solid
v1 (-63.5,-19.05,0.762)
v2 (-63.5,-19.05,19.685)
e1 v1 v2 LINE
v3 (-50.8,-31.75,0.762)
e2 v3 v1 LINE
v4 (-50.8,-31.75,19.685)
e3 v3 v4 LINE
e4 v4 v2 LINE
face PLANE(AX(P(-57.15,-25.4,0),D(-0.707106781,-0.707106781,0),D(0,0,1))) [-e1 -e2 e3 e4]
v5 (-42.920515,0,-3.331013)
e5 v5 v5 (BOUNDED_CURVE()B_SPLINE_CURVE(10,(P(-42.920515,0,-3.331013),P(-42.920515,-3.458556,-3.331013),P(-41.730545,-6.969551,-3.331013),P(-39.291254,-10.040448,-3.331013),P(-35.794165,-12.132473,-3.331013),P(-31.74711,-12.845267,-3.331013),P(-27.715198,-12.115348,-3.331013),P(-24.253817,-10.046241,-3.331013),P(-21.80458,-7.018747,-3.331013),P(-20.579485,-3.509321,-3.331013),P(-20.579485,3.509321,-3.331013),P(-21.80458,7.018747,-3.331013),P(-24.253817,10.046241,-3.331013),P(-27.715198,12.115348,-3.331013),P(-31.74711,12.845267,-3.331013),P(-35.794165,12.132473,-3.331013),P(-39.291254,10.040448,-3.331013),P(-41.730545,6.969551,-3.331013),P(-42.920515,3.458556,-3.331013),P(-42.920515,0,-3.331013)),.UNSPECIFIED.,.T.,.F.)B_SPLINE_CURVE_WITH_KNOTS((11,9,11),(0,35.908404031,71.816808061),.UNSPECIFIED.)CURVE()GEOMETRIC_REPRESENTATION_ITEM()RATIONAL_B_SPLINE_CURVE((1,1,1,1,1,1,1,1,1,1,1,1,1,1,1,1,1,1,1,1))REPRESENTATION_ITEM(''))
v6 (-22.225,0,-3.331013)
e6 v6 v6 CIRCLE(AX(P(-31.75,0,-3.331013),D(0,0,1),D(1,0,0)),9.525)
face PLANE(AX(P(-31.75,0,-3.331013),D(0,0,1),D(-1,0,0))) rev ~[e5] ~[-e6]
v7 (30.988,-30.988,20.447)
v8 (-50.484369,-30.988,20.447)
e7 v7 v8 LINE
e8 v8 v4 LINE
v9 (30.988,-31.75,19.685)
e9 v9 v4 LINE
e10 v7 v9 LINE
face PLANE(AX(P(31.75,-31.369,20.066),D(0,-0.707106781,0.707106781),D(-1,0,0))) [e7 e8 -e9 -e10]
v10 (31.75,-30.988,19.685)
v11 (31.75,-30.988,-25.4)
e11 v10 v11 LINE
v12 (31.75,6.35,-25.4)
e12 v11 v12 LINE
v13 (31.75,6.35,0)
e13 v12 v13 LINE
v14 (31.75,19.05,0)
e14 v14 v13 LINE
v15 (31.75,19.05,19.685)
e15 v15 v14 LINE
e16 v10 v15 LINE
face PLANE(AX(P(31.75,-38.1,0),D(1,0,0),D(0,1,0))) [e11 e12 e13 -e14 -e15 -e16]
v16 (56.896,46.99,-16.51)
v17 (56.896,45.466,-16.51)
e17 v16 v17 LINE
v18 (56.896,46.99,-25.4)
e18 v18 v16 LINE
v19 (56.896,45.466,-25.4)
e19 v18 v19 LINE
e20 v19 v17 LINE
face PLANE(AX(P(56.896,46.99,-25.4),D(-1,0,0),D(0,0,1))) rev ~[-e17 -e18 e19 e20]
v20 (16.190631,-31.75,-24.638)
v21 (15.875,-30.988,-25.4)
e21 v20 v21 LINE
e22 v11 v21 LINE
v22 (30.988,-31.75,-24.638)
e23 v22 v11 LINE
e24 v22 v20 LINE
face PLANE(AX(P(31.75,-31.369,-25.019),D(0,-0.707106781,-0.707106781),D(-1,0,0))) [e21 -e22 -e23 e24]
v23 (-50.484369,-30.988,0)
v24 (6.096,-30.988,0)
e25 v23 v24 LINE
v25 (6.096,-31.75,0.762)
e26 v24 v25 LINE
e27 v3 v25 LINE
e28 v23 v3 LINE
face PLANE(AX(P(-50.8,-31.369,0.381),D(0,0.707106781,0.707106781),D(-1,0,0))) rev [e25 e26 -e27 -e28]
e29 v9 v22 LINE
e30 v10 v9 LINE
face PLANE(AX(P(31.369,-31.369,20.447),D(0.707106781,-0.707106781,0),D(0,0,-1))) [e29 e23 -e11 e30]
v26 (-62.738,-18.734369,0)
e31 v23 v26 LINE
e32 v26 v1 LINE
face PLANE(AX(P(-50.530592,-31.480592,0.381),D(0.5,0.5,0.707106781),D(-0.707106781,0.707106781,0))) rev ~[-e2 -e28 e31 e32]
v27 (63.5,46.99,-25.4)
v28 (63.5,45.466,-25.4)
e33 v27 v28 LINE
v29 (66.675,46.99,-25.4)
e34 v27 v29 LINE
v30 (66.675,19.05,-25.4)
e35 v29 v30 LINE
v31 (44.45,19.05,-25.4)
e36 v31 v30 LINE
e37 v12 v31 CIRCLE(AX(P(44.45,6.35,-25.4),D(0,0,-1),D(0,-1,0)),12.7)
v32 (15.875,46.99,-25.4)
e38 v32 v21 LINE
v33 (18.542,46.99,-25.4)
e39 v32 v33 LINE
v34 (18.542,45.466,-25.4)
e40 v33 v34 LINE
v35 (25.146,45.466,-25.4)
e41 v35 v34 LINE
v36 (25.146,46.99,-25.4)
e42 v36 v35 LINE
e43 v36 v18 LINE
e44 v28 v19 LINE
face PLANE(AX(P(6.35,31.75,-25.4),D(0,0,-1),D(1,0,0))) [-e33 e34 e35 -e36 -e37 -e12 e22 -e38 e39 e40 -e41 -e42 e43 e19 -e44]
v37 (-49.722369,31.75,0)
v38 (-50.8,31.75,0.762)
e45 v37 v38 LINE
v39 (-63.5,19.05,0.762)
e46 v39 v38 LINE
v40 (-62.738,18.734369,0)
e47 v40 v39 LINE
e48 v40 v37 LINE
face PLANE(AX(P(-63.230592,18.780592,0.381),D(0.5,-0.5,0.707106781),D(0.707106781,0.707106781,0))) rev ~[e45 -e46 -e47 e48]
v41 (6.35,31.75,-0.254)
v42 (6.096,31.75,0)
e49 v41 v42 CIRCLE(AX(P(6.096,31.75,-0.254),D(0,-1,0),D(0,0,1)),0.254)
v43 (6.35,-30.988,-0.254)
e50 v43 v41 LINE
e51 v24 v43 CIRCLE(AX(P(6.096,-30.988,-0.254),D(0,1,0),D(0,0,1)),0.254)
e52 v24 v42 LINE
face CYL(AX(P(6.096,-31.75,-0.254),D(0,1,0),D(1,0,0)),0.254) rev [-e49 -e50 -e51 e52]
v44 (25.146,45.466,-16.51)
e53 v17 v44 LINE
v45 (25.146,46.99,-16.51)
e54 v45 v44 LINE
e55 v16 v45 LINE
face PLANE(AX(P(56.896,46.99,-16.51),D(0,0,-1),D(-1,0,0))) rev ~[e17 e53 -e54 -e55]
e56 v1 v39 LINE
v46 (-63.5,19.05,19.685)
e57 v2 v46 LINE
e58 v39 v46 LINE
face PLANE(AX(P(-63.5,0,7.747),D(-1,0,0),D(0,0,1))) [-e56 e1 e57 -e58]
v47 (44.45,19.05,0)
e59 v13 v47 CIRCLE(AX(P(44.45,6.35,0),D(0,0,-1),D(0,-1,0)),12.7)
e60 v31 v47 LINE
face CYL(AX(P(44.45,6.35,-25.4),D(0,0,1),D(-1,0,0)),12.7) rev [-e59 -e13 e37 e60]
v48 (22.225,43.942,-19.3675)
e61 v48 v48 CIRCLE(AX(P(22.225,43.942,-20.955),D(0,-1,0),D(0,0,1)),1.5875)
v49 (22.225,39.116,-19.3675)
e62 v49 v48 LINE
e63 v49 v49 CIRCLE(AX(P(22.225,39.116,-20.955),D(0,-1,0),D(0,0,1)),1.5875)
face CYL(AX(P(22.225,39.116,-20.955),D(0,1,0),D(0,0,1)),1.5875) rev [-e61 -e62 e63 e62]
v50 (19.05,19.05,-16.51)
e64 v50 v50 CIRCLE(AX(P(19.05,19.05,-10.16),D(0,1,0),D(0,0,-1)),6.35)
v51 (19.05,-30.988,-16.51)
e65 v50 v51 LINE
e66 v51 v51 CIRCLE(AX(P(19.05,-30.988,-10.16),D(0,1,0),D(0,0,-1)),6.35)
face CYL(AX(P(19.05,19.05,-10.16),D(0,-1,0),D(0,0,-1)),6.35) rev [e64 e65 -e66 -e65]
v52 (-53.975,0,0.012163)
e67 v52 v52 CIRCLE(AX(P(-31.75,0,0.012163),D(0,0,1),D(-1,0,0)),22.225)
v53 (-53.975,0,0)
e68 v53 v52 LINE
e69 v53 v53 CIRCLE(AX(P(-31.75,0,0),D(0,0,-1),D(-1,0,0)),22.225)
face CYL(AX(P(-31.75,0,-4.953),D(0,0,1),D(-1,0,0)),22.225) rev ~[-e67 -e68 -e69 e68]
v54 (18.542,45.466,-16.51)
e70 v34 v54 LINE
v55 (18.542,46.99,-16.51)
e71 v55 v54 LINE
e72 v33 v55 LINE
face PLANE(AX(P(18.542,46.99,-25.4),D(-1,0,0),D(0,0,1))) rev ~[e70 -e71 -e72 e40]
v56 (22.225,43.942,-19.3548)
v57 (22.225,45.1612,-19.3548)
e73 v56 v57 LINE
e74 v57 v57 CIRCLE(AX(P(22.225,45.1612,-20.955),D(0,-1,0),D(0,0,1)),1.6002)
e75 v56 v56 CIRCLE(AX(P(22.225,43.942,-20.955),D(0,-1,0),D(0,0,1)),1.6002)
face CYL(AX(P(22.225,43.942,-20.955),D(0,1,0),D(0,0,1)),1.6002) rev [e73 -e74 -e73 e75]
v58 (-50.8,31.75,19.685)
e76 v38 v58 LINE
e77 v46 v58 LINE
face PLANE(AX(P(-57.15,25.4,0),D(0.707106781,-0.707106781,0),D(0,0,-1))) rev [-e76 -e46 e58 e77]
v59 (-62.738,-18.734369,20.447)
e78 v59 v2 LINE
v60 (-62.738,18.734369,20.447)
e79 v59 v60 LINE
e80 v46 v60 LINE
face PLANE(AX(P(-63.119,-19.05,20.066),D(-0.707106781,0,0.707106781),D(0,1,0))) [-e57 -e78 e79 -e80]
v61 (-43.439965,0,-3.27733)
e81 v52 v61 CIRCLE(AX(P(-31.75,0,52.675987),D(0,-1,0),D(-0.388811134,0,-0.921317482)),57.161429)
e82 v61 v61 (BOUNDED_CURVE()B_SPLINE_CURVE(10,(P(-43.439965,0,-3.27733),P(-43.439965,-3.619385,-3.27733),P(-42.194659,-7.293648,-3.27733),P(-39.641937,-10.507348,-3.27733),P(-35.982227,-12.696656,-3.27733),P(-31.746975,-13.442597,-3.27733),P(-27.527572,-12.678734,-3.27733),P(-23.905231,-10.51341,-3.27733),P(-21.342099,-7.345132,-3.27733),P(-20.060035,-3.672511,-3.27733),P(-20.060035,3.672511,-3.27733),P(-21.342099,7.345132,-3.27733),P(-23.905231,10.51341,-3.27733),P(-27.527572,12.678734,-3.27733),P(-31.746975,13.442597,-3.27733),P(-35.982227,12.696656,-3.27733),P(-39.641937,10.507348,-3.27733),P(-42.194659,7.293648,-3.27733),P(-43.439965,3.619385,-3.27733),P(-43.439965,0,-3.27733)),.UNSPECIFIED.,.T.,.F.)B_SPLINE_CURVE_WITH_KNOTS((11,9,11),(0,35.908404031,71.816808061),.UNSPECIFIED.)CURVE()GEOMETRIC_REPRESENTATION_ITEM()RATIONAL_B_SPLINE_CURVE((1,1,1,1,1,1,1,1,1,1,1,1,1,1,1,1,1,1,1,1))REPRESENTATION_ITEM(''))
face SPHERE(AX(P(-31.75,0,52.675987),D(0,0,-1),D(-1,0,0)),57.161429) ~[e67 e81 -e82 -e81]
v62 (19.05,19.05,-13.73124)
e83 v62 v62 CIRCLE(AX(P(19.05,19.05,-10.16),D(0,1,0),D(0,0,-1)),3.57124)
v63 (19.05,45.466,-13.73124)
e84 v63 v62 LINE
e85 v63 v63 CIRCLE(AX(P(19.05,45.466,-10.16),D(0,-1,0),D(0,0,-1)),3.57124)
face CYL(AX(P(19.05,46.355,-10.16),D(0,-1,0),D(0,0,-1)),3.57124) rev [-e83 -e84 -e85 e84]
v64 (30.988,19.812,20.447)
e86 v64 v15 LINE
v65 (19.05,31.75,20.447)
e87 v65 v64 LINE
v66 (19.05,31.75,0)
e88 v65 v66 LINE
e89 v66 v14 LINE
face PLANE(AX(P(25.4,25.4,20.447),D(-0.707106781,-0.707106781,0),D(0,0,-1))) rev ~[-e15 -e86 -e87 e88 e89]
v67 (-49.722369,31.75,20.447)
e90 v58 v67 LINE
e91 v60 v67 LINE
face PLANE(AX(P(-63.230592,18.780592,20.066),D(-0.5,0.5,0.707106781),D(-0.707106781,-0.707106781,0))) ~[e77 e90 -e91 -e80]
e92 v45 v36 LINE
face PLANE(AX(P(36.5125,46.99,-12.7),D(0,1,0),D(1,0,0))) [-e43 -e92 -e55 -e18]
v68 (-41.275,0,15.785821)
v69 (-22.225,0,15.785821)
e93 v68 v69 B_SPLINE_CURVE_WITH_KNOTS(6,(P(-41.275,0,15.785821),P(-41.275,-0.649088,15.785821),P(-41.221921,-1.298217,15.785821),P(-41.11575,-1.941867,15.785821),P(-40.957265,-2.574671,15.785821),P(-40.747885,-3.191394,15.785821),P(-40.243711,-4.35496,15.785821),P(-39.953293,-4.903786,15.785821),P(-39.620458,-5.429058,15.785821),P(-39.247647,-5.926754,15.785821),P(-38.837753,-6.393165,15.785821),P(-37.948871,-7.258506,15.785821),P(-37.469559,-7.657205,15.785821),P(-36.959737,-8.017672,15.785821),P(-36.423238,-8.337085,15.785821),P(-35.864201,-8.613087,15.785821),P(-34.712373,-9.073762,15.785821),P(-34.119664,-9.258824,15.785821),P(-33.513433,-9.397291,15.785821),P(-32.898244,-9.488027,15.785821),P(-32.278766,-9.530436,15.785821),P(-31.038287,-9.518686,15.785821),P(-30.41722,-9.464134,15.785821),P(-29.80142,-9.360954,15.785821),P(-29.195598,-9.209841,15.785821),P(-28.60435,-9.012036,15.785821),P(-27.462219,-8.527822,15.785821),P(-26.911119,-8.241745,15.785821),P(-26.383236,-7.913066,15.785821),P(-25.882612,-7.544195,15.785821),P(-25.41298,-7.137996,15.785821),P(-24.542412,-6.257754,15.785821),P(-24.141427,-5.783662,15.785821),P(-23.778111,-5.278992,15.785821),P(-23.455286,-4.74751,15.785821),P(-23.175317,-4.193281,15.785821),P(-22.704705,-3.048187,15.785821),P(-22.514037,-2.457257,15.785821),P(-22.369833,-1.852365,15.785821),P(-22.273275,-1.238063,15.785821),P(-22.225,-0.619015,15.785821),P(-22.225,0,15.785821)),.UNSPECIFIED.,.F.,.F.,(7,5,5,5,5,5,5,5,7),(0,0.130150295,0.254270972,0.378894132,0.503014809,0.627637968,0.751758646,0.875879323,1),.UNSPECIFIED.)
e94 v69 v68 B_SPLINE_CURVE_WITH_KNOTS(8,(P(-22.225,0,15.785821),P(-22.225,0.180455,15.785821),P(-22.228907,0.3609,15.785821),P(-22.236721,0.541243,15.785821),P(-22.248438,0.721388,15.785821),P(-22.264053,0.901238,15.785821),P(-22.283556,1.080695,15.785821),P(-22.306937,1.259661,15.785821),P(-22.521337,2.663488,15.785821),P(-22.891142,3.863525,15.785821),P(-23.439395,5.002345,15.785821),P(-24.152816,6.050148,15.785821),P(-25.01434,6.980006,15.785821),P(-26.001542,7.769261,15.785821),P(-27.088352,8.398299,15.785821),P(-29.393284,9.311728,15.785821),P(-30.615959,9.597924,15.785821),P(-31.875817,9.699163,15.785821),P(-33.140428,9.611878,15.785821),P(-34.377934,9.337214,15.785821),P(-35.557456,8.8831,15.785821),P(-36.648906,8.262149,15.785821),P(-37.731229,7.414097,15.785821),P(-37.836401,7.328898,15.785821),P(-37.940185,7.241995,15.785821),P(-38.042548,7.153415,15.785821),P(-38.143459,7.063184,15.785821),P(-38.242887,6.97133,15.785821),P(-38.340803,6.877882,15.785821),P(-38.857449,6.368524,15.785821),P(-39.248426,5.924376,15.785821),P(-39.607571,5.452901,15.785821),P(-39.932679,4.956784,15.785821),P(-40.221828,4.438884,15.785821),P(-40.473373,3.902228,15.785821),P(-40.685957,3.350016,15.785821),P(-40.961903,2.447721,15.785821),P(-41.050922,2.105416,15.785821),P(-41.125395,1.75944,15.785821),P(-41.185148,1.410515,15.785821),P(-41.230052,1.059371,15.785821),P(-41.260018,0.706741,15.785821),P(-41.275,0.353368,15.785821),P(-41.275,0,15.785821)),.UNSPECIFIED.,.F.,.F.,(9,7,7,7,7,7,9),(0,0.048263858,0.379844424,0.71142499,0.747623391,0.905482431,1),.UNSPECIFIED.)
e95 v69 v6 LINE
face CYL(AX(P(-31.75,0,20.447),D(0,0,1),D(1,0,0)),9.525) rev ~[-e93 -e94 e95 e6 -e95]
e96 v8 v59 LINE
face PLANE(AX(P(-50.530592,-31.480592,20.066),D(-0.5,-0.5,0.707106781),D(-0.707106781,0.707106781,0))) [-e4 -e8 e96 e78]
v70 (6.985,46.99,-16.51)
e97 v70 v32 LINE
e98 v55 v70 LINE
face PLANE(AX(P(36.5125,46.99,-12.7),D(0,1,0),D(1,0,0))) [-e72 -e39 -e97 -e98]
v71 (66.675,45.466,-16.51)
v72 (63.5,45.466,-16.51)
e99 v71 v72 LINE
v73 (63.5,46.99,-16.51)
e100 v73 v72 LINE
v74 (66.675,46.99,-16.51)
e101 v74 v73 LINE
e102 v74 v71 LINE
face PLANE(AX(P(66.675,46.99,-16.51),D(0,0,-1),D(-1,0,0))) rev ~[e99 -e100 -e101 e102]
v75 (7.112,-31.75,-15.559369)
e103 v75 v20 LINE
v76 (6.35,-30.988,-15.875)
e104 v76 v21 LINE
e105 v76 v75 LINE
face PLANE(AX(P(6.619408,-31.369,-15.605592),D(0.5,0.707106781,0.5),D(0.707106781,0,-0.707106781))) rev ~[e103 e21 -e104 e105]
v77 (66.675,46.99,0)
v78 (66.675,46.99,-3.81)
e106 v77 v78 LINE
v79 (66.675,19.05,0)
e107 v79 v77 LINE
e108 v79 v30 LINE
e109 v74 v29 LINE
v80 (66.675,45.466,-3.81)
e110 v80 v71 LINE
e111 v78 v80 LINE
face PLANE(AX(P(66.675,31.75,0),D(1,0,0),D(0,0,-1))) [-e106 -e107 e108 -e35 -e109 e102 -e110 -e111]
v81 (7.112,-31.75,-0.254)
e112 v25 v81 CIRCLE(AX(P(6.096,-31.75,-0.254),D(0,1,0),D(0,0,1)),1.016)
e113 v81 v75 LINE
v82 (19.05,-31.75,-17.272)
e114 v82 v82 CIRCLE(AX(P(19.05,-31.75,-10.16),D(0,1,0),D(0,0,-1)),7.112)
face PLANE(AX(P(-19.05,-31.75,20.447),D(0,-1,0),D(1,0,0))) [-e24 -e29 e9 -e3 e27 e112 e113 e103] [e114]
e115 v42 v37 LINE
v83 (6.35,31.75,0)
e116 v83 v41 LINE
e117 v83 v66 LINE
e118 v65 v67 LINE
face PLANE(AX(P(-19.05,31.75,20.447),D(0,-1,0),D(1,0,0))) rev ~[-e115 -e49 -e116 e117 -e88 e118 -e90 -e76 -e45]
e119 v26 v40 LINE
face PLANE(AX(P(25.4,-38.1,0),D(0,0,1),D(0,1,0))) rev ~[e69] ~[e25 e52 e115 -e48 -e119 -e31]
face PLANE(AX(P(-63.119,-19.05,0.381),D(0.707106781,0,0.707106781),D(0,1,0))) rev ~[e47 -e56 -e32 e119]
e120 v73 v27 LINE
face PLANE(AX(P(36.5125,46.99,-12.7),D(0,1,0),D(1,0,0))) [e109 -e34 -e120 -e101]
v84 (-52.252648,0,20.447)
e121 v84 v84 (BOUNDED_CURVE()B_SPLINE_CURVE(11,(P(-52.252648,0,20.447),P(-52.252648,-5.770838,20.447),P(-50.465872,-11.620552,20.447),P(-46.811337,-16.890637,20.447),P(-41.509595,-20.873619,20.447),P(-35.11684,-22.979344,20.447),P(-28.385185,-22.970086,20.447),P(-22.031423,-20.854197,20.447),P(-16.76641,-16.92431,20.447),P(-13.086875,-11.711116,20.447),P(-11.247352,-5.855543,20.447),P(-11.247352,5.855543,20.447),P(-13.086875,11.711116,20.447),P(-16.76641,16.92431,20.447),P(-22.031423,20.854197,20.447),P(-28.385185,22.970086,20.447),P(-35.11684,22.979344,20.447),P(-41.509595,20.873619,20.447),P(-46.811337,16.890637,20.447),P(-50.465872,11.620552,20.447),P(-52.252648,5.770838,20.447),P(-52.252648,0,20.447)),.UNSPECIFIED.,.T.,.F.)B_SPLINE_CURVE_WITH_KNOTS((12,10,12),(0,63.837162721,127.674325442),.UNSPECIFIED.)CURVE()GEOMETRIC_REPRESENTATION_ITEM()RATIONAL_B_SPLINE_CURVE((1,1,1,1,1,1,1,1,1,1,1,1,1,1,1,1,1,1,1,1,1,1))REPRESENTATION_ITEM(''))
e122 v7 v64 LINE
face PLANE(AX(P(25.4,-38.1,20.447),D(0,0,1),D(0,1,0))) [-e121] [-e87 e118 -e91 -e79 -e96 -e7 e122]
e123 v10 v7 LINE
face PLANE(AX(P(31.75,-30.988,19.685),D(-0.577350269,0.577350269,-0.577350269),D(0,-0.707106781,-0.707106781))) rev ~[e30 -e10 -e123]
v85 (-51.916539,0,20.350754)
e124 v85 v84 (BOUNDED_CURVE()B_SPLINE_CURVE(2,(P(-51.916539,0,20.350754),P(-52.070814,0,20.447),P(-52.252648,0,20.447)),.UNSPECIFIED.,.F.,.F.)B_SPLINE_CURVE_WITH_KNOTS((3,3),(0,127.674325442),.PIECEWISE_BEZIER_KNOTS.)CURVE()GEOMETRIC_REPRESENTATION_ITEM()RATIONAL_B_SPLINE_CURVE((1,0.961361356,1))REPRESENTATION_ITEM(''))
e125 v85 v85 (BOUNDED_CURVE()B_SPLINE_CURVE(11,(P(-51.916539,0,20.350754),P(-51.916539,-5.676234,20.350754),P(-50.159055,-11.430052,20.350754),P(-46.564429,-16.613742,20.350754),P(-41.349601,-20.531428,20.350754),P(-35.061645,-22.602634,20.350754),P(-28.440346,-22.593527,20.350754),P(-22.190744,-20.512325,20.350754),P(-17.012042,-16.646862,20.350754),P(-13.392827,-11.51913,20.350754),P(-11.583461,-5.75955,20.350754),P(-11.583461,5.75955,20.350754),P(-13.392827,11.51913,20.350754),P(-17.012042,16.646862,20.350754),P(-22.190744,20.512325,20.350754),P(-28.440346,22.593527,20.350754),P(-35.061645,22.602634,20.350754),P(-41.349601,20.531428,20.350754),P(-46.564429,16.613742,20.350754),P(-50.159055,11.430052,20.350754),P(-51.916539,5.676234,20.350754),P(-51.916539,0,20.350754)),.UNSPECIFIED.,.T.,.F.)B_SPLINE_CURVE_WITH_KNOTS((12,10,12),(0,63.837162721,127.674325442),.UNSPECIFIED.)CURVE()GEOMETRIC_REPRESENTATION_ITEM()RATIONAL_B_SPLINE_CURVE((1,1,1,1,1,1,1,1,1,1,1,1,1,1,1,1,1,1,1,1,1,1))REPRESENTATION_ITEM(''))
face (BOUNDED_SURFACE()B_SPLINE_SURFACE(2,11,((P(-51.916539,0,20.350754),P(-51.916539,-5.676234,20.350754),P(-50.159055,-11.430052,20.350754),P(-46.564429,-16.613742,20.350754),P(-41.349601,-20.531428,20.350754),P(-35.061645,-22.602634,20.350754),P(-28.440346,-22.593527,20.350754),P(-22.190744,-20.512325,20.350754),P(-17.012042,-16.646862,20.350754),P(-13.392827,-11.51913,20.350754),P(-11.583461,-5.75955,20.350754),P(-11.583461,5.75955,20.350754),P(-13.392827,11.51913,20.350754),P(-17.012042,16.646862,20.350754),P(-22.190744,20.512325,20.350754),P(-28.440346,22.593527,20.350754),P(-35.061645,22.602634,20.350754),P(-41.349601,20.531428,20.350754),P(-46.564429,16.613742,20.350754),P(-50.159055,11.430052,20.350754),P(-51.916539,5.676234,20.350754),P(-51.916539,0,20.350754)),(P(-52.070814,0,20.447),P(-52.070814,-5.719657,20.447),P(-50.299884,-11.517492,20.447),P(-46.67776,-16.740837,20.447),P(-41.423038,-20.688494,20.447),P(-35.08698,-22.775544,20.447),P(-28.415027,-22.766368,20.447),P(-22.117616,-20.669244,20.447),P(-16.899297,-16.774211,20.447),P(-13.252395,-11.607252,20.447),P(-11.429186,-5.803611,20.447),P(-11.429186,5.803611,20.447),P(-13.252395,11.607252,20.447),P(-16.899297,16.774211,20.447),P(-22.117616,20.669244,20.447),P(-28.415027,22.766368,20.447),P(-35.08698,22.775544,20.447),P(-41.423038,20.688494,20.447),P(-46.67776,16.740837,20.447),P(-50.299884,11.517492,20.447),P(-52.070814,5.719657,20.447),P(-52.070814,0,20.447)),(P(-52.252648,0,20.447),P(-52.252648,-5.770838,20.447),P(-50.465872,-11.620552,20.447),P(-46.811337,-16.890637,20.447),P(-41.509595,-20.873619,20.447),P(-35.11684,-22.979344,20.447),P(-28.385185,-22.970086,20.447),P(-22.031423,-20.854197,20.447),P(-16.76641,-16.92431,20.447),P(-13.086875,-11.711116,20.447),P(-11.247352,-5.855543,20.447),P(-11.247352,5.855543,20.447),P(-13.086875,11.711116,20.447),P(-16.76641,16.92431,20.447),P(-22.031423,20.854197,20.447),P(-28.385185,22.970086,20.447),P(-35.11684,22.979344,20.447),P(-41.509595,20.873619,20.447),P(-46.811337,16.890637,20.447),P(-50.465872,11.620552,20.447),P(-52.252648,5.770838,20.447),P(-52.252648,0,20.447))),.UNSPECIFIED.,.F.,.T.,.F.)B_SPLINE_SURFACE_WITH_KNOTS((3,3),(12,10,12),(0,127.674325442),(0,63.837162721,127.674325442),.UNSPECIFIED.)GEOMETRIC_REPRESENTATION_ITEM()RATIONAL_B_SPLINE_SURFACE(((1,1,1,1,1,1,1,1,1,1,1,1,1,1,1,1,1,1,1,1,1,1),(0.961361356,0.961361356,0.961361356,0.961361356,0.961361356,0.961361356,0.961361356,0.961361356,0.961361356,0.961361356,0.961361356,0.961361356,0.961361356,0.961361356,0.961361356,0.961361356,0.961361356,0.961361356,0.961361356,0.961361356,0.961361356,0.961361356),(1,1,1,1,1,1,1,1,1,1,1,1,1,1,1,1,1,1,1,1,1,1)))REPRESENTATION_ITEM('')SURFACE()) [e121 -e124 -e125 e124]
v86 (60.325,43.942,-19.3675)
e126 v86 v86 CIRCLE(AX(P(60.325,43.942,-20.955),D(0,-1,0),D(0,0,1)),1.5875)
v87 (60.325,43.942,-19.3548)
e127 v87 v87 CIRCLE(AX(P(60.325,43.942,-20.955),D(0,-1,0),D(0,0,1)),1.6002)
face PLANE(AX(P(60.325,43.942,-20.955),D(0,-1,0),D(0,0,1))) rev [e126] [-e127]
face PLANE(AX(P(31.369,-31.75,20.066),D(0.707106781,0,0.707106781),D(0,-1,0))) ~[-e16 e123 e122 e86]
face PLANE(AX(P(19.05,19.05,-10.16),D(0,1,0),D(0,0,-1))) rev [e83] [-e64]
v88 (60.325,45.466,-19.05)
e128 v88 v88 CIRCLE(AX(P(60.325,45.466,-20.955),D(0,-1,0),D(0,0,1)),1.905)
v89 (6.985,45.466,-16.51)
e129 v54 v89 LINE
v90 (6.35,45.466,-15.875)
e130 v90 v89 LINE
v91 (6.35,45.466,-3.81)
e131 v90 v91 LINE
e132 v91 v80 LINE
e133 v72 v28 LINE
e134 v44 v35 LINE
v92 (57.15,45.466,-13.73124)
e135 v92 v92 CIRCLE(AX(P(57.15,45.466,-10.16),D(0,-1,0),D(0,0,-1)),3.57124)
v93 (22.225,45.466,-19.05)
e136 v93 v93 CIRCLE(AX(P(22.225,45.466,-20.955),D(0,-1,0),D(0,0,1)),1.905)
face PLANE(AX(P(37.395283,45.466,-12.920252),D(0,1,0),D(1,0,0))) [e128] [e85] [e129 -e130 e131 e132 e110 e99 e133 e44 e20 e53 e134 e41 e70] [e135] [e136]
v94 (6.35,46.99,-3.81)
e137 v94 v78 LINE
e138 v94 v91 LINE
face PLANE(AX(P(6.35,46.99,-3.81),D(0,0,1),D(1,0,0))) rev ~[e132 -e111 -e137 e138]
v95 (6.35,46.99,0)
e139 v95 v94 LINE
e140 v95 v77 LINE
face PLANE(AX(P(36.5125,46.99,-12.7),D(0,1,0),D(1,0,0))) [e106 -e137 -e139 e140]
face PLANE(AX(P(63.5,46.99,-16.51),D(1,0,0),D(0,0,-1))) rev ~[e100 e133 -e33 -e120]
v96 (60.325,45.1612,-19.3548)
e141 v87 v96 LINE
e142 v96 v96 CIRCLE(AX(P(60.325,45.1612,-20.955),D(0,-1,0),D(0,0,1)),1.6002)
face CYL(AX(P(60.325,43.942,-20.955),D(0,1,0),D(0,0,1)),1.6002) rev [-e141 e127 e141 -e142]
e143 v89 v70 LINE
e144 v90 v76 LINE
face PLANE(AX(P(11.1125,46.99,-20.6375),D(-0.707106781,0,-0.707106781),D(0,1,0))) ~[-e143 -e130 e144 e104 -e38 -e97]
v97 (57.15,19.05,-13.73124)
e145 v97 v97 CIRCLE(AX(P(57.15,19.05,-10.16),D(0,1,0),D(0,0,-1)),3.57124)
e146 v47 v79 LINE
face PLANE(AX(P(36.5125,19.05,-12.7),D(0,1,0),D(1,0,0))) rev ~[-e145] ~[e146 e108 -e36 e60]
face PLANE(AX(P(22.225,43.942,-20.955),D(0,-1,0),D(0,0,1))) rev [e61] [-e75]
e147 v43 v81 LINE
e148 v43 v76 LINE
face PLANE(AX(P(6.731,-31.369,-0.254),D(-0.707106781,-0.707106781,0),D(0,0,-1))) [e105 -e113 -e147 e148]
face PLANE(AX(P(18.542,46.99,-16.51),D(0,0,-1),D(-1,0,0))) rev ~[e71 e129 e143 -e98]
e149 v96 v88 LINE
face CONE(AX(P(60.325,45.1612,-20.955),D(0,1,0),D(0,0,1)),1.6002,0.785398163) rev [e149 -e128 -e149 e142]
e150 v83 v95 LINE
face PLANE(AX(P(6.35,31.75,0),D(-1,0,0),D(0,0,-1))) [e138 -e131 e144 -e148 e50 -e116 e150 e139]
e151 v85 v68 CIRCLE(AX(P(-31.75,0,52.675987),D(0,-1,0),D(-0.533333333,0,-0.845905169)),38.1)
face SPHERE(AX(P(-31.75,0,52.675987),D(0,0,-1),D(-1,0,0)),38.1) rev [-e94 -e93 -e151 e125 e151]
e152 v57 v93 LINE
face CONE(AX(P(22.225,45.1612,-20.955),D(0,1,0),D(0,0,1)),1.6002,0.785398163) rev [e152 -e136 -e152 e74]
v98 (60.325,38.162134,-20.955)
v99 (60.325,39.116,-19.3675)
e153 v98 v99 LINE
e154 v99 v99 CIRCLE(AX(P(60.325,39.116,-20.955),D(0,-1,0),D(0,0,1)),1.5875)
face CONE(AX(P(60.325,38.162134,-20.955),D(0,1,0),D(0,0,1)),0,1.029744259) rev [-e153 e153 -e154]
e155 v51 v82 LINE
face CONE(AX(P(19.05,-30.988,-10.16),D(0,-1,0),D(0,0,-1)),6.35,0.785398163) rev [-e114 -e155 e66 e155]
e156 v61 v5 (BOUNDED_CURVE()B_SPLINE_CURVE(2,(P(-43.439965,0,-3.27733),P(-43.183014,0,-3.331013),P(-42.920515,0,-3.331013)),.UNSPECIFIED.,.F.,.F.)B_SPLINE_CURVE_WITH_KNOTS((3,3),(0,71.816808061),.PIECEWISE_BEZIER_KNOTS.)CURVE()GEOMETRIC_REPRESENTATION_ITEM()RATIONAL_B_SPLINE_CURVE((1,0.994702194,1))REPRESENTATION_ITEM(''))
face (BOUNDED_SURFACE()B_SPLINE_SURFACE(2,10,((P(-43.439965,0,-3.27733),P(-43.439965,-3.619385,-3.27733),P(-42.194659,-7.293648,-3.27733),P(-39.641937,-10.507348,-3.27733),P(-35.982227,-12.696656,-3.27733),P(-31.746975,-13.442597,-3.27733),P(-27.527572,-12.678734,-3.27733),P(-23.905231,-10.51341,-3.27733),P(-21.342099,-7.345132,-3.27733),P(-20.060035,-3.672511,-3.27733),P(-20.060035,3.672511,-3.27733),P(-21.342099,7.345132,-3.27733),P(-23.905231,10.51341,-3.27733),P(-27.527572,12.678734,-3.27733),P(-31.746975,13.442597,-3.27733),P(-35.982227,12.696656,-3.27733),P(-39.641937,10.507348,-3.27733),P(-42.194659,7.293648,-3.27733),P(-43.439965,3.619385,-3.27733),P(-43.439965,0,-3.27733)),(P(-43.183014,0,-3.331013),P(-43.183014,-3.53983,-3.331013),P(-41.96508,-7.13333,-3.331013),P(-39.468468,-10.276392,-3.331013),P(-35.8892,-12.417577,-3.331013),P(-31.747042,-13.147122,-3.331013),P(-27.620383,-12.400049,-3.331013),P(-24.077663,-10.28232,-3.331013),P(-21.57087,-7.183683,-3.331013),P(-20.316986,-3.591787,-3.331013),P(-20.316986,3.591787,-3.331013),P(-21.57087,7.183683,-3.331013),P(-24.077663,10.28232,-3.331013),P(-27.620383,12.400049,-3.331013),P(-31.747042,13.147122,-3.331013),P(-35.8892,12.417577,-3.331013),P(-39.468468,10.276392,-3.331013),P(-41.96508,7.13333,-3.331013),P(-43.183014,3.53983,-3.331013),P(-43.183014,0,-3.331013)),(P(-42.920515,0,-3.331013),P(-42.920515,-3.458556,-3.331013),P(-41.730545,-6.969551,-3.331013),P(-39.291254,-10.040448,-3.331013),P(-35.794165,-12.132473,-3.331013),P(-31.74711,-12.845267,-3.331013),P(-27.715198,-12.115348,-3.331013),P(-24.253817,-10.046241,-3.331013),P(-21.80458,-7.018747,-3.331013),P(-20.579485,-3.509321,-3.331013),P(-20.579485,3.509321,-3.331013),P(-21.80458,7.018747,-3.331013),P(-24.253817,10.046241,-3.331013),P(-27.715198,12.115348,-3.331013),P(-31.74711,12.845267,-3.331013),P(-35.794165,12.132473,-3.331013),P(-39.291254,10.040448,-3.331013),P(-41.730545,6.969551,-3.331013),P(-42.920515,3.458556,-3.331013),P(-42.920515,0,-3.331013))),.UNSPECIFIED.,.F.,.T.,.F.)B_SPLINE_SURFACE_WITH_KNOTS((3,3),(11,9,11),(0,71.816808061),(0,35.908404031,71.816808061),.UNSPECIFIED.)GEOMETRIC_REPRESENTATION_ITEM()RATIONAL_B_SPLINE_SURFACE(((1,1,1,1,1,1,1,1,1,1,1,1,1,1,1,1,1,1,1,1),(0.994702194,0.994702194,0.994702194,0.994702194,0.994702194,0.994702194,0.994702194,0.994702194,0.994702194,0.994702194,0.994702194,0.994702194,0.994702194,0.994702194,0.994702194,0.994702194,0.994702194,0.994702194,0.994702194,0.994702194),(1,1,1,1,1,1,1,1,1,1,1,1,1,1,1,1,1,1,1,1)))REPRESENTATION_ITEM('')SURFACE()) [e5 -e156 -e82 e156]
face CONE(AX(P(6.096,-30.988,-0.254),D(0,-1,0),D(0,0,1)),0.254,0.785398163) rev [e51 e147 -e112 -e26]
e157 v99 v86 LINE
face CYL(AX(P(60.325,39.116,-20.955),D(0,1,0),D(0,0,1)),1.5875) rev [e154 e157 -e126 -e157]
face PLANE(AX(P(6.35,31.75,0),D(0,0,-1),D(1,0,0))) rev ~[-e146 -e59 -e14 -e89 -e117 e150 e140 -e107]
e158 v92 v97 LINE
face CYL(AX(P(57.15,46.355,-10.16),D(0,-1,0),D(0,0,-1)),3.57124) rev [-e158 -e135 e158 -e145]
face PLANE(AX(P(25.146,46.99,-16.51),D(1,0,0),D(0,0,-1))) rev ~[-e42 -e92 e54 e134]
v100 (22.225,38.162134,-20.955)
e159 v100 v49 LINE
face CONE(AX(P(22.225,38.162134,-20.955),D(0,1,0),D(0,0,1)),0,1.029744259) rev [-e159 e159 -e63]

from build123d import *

# Parameters (mm, degrees)
SKETCH1_W                          = 25.4
SKETCH1_H                          = 76.2
EXTRUDE1_DEPTH                     = 20.447
SKETCH60_W                         = 25.4
SKETCH60_H                         = 63.5
EXTRUDE6_DEPTH                     = 63.5
SKETCH69_W                         = 63.5
SKETCH69_H                         = 63.5
SKETCH69_R                         = 22.225
CUT_EXTRUDE23_DEPTH                = 4.953
SKETCH71_R                         = 9.525
CUT_EXTRUDE24_DEPTH                = 24.778013047
SKETCH80_W                         = 20.447
SKETCH80_H                         = 76.2
EXTRUDE11_DEPTH                    = 6.35
SKETCH76_W                         = 25.4
SKETCH76_H                         = 76.2
EXTRUDE9_DEPTH                     = 25.4
SKETCH79_W                         = 50.8
SKETCH79_H                         = 6.35
EXTRUDE10_DEPTH                    = 46.847
SKETCH84_W                         = 60.325
SKETCH84_H                         = 25.4
EXTRUDE14_DEPTH                    = 15.24
EXTRUDE14_DEPTH_BACK               = 12.7
EXTRUDE15_DEPTH                    = 1.524
CBORE_FOR_1_8_PRESS_PIN_AT_2_COUNT = 2
CBORE_FOR_1_8_PRESS_PIN_AT_2_PITCH = 38.1
CHAMFER5_SIZE                      = 9.525
FILLET6_R                          = 12.7
CHAMFER3_SIZE                      = 12.7
FILLET7_R                          = 0.254
CHAMFER4_SIZE                      = 0.762
FILLET4_R                          = 2.54
FILLET5_R                          = 0.635


with BuildPart() as part:
    # Sketch1 → Extrude1 (new body)
    with BuildSketch(Plane.XY):
        with Locations((12.7, 0)):
            Rectangle(SKETCH1_W, SKETCH1_H)
    extrude(amount=EXTRUDE1_DEPTH)

    # Sketch60 → Extrude6 (add)
    with BuildSketch(Plane.ZY):
        with Locations((7.747, 0)):
            Rectangle(SKETCH60_W, SKETCH60_H)
    extrude(amount=EXTRUDE6_DEPTH)

    # Sketch64 → Cut-Revolve1 (revolve, cut)
    with BuildSketch(Plane(origin=(0, 0, 0), x_dir=(-1, 0, 0), z_dir=(0, 1, 0)), mode=Mode.PRIVATE) as cut_revolve1_sk:
        with BuildLine():
            Line((9.525, -4.953), (9.525, 0.012163278))
            ThreePointArc((9.525, 0.012163278), (14.839678796, -1.926851671), (20.32, -3.331013047))
            Line((20.32, -3.331013047), (31.75, -3.331013047))
            Line((31.75, -3.331013047), (31.75, -4.953))
            Line((31.75, -4.953), (9.525, -4.953))
        make_face()
        with BuildLine():
            Line((31.75, 20.447), (11.43, 20.447))
            ThreePointArc((11.43, 20.447), (21.174424434, 16.073156441), (31.75, 14.575986953))
            Line((31.75, 14.575986953), (31.75, 20.447))
        make_face()
    revolve(cut_revolve1_sk.sketch.rotate(Axis((-31.75, 0, 14.575986953), (0, 0, 1)), 180), axis=Axis((-31.75, 0, 14.575986953), (0, 0, 1)), mode=Mode.SUBTRACT)  # turned: the seam where the file's is

    # Sketch69 → Cut-Extrude23 (cut)
    with BuildSketch(Plane(origin=(0, 0, -4.953), x_dir=(-1, 0, 0), z_dir=(0, 0, -1))):
        with Locations((31.75, 0)):
            Rectangle(SKETCH69_W, SKETCH69_H)
        with Locations((31.75, 0)):
            Circle(SKETCH69_R, mode=Mode.SUBTRACT)
    extrude(amount=-CUT_EXTRUDE23_DEPTH, mode=Mode.SUBTRACT)

    # Sketch71 → Cut-Extrude24 (cut, through all)
    with BuildSketch(Plane.XY.offset(20.447)):
        with Locations((-31.75, 0)):
            Circle(SKETCH71_R)
    extrude(amount=-CUT_EXTRUDE24_DEPTH, mode=Mode.SUBTRACT)

    # Sketch80 → Extrude11 (add)
    with BuildSketch(Plane(origin=(25.4, 0, 0), x_dir=(0, 0, -1), z_dir=(1, 0, 0))):
        with Locations((-10.2235, 0)):
            Rectangle(SKETCH80_W, SKETCH80_H)
    extrude(amount=EXTRUDE11_DEPTH)

    # Sketch76 → Extrude9 (add)
    with BuildSketch(Plane(origin=(0, 0, 0), x_dir=(-1, 0, 0), z_dir=(0, 0, -1))):
        with Locations((-19.05, 0)):
            Rectangle(SKETCH76_W, SKETCH76_H)
    extrude(amount=EXTRUDE9_DEPTH)

    # Sketch79 → Extrude10 (cut, through all)
    with BuildSketch(Plane.XY.offset(20.447)):
        with Locations((6.35, -34.925)):
            Rectangle(SKETCH79_W, SKETCH79_H)
        with Locations((6.35, 34.925)):
            Rectangle(SKETCH79_W, SKETCH79_H)
    extrude(amount=-EXTRUDE10_DEPTH, mode=Mode.SUBTRACT)

    # Sketch84 → Extrude14 (add, two sides)
    with BuildSketch(Plane(origin=(0, 31.75, 0), x_dir=(1, 0, 0), z_dir=(0, 1, 0))) as extrude14_sk:
        with Locations((36.5125, 12.7)):
            Rectangle(SKETCH84_W, SKETCH84_H)
    extrude(amount=EXTRUDE14_DEPTH)
    extrude(extrude14_sk.sketch, amount=-EXTRUDE14_DEPTH_BACK)

    # Sketch85 → CBORE for 1_4 Socket Head Cap Screw1 (revolve, cut)
    with BuildSketch(Plane(origin=(19.05, -31.75, -10.16), x_dir=(0, 0, -1), z_dir=(1, 0, 0))):
        Polygon((0, 0), (0, 78.74), (4.20624, 78.74), (3.57124, 78.105), (3.57124, 50.8), (6.35, 50.8), (6.35, 0.762), (7.112, 0), align=None)
    revolve(axis=Axis((19.05, -38.1, -10.16), (0, 1, 0)), mode=Mode.SUBTRACT)

    # Sketch87 → 1_4 Clearance Hole2 (revolve, cut)
    with BuildSketch(Plane(origin=(57.15, 19.05, -10.16), x_dir=(0, 0, -1), z_dir=(1, 0, 0))):
        Polygon((0, 0), (0, 27.94), (4.20624, 27.94), (3.57124, 27.305), (3.57124, 0), align=None)
    revolve(axis=Axis((57.15, 12.7, -10.16), (0, 1, 0)), mode=Mode.SUBTRACT)

    # Sketch89 → Extrude15 (cut)
    with BuildSketch(Plane(origin=(0, 46.99, 0), x_dir=(1, 0, 0), z_dir=(0, 1, 0))):
        Polygon((6.35, 3.81), (66.675, 3.81), (66.675, 16.51), (63.5, 16.51), (63.5, 25.4), (56.896, 25.4), (56.896, 16.51), (25.146, 16.51), (25.146, 25.4), (18.542, 25.4), (18.542, 16.51), (6.35, 16.51), align=None)
    extrude(amount=-EXTRUDE15_DEPTH, mode=Mode.SUBTRACT)

    # Sketch90 → CBORE for 1_8_ Press Pin (revolve, cut)
    with BuildSketch(Plane(origin=(22.225, 45.466, -20.955), x_dir=(0, 0, 1), z_dir=(1, 0, 0))):
        Polygon((0, 0), (0, 7.303866233), (1.5875, 6.35), (1.5875, 1.524), (1.6002, 1.524), (1.6002, 0.3048), (1.905, 0), align=None)
    cbore_for_1_8_press_pin = revolve(axis=Axis((22.225, 51.816, -20.955), (0, -1, 0)), mode=Mode.SUBTRACT)

    # CBORE for 1_8_ Press Pin at 2: CBORE for 1_8_ Press Pin ×2
    with Locations(*[(i * CBORE_FOR_1_8_PRESS_PIN_AT_2_PITCH, 0, 0) for i in range(1, CBORE_FOR_1_8_PRESS_PIN_AT_2_COUNT)]):
        add(cbore_for_1_8_press_pin, mode=Mode.SUBTRACT)

    # Chamfer5
    chamfer5_edges = [part.edges().sort_by_distance(p)[0] for p in [
        (6.35, 7.62, -25.4),
    ]]
    chamfer(chamfer5_edges, length=CHAMFER5_SIZE)

    # Fillet6
    fillet6_edges = [part.edges().sort_by_distance(p)[0] for p in [
        (31.75, 19.05, -12.7),
    ]]
    fillet(fillet6_edges, radius=FILLET6_R)

    # Chamfer3
    chamfer3_edges = [part.edges().sort_by_distance(p)[0] for p in [
        (-63.5, 31.75, 10.2235),
        (-63.5, -31.75, 10.2235),
        (31.75, 31.75, 10.2235),
    ]]
    chamfer(chamfer3_edges, length=CHAMFER3_SIZE)

    # Fillet7
    fillet7_edges = [part.edges().sort_by_distance(p)[0] for p in [
        (6.35, 0, 0),
    ]]
    fillet(fillet7_edges, radius=FILLET7_R)

    # Chamfer4
    chamfer4_edges = [part.edges().sort_by_distance(p)[0] for p in [
        (23.8125, -31.75, -25.4),
        (-9.525, -31.75, 20.447),
        (31.75, -6.35, 20.447),
        (31.75, -31.75, -2.4765),
        (-22.352, -31.75, 0),
        (6.275605122, -31.75, -0.074394878),
        (6.35, -31.75, -8.0645),
        (-57.15, 25.4, 20.447),
        (-57.15, 25.4, 0),
        (-57.15, -25.4, 0),
        (-57.15, -25.4, 20.447),
        (-63.5, 0, 20.447),
        (-63.5, 0, 0),
        (11.1125, -31.75, -20.6375),
    ]]
    chamfer(chamfer4_edges, length=CHAMFER4_SIZE)

    # Fillet4
    fillet4_edges = [part.edges().sort_by_distance(p)[0] for p in [
        (-20.32, 0, -3.331013047),
    ]]
    fillet(fillet4_edges, radius=FILLET4_R)

    # Fillet5
    fillet5_edges = [part.edges().sort_by_distance(p)[0] for p in [
        (-11.43, 0, 20.447),
    ]]
    fillet(fillet5_edges, radius=FILLET5_R)


solid = part.part
